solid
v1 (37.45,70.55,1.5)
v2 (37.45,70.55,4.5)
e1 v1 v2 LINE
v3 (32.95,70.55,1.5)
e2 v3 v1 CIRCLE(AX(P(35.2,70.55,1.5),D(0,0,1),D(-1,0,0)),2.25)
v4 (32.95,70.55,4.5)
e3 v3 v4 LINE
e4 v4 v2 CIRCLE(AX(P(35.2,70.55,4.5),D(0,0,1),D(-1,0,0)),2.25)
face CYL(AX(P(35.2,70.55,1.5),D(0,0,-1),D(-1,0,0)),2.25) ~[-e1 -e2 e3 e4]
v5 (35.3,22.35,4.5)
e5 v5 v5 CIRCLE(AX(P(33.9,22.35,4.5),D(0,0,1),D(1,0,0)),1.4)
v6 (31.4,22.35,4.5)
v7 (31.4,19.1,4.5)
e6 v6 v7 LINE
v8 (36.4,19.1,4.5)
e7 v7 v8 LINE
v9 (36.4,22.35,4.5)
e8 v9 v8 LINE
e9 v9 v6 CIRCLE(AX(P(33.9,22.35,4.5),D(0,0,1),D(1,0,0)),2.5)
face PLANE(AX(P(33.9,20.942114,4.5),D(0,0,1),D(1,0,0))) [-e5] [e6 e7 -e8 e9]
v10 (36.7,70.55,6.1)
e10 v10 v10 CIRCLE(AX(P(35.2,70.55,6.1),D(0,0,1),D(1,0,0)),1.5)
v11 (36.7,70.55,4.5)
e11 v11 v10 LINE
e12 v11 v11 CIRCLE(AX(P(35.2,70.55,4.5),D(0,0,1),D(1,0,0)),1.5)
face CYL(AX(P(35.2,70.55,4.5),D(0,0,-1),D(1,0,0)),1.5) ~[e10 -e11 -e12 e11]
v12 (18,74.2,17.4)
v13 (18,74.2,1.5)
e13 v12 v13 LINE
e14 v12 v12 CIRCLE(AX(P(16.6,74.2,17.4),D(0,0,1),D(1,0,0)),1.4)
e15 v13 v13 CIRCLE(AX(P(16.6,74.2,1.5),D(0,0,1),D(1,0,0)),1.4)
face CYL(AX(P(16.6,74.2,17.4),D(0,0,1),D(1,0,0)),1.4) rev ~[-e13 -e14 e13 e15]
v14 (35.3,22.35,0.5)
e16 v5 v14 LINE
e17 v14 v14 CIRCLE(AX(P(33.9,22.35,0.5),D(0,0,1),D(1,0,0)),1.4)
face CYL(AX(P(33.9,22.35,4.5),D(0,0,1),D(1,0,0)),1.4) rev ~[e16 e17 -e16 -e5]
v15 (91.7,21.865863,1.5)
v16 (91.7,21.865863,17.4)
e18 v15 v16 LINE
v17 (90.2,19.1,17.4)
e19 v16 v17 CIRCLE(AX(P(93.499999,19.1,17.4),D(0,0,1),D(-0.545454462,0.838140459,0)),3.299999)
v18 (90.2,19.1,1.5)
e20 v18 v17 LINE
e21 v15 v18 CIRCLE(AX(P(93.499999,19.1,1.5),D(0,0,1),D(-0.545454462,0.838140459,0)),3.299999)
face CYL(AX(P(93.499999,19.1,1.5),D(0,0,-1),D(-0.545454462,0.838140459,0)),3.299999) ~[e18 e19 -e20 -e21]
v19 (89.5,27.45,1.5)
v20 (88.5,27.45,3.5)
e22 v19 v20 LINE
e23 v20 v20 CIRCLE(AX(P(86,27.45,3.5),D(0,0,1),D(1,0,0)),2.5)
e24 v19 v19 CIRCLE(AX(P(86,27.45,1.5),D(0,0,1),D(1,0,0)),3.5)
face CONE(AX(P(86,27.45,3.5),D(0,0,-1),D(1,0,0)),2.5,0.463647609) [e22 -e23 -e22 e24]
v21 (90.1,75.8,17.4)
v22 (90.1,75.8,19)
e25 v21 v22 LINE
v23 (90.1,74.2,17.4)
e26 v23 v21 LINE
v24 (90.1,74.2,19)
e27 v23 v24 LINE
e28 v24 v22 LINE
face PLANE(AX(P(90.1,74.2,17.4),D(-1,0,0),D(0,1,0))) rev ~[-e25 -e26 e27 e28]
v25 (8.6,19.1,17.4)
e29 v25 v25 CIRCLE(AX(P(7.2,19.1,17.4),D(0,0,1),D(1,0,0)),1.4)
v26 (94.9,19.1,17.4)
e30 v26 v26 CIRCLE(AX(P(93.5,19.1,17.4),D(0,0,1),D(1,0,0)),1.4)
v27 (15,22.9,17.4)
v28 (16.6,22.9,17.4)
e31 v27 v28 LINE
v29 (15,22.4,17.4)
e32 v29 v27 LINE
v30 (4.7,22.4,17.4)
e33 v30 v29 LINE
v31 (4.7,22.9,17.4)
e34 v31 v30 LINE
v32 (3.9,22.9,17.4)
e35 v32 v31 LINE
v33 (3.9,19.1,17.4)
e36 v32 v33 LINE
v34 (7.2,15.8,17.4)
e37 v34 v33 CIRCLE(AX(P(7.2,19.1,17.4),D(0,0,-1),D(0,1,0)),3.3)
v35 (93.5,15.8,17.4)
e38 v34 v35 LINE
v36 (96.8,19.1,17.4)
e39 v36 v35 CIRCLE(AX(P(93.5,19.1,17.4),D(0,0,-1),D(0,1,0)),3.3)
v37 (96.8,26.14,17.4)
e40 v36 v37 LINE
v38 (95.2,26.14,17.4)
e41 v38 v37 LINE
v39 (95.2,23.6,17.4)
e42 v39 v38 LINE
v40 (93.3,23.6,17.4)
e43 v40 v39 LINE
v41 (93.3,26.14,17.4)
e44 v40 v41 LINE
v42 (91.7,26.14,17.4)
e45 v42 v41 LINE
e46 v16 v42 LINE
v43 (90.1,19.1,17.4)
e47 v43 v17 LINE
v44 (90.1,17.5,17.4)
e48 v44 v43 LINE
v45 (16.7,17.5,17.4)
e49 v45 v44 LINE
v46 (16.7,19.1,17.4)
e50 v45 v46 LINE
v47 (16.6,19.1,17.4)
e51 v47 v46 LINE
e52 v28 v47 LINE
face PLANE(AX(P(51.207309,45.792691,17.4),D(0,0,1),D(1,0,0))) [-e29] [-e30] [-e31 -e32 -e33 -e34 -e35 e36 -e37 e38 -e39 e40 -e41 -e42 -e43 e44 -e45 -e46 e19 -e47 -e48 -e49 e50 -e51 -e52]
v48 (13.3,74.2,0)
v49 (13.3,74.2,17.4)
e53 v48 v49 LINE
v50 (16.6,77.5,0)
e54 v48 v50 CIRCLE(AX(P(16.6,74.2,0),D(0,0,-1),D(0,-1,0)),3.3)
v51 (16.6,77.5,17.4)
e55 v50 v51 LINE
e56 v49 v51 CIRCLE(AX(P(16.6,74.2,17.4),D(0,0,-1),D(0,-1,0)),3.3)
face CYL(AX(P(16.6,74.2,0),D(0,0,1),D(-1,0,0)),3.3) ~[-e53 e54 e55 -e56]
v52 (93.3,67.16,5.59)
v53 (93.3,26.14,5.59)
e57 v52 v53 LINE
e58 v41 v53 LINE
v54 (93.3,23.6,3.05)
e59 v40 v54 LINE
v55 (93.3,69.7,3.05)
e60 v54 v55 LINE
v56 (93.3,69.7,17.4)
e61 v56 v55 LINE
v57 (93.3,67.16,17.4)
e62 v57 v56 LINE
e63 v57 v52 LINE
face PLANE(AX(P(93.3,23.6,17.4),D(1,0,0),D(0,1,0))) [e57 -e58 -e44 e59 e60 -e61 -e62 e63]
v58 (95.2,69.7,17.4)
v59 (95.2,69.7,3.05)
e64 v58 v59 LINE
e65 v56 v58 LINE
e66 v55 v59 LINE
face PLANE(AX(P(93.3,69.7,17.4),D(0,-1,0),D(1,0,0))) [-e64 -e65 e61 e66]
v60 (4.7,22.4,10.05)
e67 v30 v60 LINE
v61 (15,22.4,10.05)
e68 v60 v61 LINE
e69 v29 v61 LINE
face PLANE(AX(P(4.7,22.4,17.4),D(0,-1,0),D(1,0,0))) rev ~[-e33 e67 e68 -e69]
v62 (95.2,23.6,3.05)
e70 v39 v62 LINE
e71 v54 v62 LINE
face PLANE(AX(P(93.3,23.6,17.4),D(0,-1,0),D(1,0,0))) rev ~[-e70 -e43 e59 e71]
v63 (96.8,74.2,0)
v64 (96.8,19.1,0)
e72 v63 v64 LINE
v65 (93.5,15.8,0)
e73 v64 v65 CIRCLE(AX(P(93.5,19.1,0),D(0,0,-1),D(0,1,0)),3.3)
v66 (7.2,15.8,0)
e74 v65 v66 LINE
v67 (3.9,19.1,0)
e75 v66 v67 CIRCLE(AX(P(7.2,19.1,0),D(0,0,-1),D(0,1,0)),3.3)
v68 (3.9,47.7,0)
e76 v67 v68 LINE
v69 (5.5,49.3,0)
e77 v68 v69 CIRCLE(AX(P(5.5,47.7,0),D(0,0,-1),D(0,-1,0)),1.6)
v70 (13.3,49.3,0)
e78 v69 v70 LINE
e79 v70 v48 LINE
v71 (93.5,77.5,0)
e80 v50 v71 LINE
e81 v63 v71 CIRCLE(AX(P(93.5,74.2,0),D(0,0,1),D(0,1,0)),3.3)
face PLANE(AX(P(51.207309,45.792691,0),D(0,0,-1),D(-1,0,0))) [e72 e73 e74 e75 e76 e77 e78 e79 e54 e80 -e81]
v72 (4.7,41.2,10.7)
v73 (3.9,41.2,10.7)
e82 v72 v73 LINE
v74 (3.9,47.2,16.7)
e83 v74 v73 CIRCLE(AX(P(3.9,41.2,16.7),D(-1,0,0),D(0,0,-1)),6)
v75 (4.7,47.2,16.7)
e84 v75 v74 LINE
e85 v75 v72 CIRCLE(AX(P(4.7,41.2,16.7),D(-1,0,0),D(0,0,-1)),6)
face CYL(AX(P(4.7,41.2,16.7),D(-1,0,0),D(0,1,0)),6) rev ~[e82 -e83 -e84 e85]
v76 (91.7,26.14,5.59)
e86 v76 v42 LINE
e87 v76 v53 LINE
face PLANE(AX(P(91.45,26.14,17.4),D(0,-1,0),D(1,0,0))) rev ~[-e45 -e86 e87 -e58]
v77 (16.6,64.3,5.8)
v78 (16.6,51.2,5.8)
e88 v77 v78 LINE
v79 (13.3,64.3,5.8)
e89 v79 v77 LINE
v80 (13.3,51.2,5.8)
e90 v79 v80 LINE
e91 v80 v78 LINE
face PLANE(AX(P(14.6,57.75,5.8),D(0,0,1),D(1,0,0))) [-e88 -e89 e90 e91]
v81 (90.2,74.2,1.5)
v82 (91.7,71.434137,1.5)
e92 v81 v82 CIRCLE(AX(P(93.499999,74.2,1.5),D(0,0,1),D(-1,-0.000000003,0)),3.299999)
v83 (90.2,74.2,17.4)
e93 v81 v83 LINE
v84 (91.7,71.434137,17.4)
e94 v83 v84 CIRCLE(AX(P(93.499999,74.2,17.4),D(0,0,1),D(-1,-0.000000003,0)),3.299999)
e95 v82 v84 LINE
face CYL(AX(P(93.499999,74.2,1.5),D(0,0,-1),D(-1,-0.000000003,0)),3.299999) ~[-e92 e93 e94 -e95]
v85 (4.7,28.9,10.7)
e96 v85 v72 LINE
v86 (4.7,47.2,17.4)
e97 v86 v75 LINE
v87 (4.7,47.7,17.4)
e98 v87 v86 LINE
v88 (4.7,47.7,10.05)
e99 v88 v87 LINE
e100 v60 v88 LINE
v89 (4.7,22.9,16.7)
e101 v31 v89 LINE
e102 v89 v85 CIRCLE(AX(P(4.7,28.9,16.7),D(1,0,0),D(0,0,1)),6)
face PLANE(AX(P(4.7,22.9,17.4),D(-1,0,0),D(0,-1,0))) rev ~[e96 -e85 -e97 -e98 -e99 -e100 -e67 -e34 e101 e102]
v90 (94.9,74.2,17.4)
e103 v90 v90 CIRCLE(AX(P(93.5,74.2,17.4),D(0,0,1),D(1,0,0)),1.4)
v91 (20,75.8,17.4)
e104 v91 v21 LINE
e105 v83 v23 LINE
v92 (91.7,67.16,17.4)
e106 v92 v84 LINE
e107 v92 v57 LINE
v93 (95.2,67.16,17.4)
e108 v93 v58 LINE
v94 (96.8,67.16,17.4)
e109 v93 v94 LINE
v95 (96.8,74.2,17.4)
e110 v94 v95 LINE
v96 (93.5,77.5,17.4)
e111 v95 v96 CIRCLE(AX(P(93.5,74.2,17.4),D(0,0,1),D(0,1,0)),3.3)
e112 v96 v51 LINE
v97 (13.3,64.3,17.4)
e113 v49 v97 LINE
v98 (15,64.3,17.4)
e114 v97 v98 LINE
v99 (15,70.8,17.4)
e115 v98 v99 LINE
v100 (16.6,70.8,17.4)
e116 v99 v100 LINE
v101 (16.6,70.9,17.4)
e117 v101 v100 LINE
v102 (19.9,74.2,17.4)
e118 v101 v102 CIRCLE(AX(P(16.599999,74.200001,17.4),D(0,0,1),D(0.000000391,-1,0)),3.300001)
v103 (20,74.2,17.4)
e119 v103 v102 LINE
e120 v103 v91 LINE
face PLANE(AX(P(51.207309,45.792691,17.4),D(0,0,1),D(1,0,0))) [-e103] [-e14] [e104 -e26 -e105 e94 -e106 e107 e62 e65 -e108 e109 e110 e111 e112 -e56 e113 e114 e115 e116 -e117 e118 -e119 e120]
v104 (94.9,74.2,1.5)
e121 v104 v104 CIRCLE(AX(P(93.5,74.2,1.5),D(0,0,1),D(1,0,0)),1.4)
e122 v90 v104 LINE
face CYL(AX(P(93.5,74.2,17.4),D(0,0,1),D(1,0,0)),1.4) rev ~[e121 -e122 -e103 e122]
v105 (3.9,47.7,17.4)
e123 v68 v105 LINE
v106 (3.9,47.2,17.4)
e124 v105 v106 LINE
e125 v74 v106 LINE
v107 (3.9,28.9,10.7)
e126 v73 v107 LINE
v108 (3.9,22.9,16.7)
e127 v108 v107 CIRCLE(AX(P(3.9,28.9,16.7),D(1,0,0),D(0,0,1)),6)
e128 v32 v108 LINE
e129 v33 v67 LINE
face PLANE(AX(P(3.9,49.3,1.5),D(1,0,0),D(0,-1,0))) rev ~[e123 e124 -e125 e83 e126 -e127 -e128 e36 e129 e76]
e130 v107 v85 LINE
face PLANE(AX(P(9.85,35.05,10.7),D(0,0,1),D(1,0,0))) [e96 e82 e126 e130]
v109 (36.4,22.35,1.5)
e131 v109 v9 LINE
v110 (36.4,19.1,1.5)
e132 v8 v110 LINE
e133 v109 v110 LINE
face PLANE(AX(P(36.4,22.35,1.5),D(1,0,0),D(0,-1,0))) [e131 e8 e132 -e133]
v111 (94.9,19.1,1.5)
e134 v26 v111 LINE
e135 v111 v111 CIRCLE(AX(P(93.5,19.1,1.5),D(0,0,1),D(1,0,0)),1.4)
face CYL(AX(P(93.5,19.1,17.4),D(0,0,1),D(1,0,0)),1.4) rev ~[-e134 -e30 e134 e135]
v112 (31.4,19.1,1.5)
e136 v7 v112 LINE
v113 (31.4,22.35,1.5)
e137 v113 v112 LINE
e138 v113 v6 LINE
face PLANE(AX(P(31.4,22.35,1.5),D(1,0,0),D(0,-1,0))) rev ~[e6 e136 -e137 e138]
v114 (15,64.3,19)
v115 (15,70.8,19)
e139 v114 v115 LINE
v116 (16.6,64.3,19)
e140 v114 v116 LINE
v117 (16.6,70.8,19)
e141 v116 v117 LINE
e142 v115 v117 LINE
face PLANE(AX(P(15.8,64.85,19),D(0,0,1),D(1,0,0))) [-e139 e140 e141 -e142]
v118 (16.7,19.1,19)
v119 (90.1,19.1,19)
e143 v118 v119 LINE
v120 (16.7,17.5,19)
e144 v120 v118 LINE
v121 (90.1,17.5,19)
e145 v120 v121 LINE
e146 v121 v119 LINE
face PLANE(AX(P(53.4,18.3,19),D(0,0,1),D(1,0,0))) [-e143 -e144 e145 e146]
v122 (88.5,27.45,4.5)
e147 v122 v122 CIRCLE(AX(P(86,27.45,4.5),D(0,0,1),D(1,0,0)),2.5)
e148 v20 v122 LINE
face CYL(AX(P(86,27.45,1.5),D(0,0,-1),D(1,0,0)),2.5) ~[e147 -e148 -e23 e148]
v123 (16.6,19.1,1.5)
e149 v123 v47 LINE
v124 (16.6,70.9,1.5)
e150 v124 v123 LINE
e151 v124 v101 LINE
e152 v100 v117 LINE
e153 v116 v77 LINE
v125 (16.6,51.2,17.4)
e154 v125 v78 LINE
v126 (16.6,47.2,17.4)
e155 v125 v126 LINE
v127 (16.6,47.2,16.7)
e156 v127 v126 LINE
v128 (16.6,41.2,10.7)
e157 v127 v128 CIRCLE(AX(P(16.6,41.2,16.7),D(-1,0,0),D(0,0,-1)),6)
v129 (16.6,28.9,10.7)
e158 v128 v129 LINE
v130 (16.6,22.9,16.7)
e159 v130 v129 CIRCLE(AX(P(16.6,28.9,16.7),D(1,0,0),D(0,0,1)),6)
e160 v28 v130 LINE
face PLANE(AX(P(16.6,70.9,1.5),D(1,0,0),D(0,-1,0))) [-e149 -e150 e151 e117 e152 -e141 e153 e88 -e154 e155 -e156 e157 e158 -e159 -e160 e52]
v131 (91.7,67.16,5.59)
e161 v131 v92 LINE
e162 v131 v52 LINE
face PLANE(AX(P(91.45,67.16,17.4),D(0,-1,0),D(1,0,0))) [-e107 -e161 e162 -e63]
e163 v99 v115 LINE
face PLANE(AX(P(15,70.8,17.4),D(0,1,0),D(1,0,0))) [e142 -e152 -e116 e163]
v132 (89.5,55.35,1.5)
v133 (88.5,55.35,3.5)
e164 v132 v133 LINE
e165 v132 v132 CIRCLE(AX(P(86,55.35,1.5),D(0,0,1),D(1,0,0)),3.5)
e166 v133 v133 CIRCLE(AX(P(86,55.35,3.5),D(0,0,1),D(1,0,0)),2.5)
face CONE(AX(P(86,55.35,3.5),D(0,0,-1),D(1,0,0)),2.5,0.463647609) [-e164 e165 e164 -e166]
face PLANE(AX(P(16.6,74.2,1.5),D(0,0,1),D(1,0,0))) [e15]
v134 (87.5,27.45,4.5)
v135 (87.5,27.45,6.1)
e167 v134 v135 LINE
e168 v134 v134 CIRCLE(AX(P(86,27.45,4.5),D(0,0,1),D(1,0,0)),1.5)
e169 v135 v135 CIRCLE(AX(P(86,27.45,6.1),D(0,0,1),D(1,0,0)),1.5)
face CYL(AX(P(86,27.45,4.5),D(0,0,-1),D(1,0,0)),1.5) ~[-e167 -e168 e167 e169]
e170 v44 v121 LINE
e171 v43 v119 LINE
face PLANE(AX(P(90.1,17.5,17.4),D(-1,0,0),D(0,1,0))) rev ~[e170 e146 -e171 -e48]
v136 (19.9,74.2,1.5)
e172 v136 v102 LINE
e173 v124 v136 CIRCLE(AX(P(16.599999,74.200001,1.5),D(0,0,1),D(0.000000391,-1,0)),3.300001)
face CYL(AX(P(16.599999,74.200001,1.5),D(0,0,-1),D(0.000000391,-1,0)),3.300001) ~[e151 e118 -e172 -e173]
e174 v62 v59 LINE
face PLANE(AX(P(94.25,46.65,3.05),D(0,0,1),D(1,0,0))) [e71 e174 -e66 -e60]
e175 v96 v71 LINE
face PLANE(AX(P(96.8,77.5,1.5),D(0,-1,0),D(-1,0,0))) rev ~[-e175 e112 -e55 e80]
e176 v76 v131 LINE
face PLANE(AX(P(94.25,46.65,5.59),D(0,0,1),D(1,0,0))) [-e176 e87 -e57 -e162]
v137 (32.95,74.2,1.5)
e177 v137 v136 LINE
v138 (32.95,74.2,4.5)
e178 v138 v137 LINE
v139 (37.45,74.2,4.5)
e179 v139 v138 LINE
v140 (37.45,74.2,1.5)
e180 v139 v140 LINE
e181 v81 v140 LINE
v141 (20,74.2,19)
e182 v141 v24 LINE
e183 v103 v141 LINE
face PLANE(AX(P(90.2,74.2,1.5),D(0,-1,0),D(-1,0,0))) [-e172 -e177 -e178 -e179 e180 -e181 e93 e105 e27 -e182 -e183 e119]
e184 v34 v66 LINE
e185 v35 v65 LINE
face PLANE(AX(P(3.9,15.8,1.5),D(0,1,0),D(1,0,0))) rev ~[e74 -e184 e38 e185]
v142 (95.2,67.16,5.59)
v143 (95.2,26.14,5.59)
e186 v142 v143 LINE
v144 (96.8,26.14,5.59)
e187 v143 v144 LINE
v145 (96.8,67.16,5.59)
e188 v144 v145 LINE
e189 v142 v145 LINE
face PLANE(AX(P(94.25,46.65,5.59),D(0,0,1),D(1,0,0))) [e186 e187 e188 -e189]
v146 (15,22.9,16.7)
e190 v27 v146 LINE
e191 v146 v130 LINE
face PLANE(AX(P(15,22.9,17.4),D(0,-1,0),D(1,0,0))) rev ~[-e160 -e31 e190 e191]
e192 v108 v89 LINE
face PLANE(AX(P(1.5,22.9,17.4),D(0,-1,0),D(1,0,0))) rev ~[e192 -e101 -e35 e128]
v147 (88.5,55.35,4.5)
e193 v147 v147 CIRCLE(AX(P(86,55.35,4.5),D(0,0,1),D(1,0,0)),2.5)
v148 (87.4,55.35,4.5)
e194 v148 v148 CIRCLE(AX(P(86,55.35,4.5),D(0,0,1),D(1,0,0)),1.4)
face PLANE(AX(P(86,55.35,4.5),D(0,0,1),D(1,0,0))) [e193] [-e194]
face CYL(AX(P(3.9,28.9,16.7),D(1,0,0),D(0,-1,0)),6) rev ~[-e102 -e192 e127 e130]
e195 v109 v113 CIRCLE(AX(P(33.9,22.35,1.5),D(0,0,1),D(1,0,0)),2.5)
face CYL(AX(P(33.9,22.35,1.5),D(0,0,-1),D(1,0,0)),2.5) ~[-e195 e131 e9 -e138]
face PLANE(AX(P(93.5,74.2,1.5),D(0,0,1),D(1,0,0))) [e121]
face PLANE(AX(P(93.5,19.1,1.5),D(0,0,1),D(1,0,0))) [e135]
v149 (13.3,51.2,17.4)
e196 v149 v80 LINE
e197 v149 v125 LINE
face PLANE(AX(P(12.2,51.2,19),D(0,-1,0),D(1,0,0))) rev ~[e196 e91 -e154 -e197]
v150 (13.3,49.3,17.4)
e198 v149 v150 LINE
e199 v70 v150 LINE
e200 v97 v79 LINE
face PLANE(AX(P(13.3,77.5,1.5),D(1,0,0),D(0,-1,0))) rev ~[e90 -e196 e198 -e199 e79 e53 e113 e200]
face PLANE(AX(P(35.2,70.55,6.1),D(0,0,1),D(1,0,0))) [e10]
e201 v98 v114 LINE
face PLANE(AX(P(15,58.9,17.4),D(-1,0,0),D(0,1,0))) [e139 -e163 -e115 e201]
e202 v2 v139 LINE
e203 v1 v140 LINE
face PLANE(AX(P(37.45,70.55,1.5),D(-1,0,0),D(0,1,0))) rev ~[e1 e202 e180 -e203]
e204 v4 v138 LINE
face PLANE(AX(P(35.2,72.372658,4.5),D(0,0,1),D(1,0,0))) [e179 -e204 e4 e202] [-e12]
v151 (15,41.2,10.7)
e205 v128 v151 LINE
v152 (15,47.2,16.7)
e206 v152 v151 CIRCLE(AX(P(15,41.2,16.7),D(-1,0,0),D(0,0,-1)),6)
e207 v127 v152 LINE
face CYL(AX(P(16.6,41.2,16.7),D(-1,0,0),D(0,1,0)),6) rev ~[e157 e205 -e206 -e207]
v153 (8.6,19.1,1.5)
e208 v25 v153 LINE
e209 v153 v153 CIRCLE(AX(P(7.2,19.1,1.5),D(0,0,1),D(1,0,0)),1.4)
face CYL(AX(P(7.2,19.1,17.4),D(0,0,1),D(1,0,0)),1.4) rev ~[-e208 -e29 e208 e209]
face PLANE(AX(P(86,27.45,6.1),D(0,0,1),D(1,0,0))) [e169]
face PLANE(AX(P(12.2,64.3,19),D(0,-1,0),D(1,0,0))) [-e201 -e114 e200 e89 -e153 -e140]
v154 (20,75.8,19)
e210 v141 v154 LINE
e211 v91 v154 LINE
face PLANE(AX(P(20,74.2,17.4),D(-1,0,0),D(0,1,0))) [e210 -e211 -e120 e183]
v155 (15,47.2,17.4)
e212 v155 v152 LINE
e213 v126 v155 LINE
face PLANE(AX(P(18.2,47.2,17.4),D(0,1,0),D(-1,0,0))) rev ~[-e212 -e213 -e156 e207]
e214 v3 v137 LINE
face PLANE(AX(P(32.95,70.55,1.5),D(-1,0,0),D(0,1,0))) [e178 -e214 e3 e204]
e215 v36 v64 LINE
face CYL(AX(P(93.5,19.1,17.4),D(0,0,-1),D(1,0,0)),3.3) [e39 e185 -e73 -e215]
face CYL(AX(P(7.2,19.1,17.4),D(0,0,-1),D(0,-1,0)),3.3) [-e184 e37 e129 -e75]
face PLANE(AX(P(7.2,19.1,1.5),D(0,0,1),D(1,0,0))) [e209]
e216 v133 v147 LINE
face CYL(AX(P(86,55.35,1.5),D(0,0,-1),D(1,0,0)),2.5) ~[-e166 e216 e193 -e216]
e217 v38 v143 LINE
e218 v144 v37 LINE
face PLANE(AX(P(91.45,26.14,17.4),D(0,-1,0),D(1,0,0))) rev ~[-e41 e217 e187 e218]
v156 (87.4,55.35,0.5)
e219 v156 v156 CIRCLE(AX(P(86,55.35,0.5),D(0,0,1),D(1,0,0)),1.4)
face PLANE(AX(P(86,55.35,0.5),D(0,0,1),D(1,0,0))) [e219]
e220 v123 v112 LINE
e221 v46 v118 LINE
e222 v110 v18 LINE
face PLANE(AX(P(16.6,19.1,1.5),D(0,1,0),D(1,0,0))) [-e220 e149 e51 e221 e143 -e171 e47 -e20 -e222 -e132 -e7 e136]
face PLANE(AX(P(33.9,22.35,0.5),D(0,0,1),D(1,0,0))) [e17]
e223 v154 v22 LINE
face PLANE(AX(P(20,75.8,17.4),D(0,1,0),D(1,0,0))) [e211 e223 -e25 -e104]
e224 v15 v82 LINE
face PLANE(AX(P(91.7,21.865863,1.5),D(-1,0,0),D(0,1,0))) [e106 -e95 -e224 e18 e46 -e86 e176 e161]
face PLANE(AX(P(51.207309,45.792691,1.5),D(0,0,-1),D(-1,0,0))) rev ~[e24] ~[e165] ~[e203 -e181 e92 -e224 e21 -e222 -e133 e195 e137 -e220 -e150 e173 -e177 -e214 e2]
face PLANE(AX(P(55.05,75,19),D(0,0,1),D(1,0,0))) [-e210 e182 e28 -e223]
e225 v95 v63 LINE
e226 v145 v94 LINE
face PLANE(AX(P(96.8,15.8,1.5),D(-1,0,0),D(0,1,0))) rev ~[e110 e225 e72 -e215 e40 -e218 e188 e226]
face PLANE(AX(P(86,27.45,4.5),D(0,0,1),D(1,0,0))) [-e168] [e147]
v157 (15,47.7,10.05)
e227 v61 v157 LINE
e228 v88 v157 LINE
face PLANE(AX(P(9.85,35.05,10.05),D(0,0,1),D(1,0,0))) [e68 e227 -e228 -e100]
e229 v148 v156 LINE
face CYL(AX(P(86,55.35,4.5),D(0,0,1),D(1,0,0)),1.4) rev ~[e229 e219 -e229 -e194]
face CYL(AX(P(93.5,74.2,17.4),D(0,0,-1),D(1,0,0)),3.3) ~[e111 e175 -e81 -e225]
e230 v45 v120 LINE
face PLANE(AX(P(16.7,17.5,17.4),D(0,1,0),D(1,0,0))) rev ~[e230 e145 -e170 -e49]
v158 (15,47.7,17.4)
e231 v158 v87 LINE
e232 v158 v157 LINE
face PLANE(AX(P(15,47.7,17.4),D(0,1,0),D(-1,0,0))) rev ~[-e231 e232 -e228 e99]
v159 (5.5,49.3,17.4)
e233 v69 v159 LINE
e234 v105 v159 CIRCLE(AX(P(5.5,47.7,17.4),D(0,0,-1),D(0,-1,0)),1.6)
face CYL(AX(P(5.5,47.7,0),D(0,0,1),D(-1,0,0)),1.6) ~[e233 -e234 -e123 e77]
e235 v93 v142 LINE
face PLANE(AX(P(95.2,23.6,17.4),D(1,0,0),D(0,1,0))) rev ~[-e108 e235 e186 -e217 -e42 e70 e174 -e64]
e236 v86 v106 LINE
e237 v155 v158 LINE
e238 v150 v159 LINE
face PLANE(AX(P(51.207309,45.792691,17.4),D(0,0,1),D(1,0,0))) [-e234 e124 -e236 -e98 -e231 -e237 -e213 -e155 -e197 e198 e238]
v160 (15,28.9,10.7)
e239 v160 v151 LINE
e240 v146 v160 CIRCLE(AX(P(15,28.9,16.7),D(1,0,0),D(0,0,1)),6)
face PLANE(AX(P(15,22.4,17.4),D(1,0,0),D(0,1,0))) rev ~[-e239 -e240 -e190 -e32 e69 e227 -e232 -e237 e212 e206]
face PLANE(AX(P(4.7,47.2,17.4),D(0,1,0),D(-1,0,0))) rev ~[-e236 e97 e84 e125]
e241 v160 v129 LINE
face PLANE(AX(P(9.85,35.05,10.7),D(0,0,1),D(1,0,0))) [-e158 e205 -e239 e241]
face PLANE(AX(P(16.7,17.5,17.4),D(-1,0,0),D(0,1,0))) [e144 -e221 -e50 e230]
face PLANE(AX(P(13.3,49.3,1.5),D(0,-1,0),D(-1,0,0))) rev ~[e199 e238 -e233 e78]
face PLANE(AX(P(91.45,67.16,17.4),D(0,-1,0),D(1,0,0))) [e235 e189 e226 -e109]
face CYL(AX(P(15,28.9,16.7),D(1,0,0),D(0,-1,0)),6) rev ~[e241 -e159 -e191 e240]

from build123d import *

# Parameters (mm, degrees)
PAD_DEPTH       = 1.5
PAD001_DEPTH    = 15.9
SKETCH003_R     = 2.5
PAD002_DEPTH    = 3
SKETCH004_R     = 1.5
PAD003_DEPTH    = 1.6
SKETCH005_W     = 70.1
SKETCH005_H     = 1.6
SKETCH005_W_2   = 1.6
SKETCH005_H_2   = 11.9
SKETCH005_W_3   = 73.4
PAD004_DEPTH    = 1.6
SKETCH007_W     = 1.9
SKETCH007_H     = 46.1
POCKET001_DEPTH = 14.35
SKETCH008_W     = 5.6
SKETCH008_H     = 41.02
POCKET002_DEPTH = 11.81
SKETCH009_W     = 4.8
SKETCH009_H     = 13.1
POCKET003_DEPTH = 13.2
SKETCH010_R     = 1.4
POCKET004_DEPTH = 15.9
POCKET_DEPTH    = 6.7
SKETCH014_W     = 10.3
SKETCH014_H     = 25.3
POCKET006_DEPTH = 0.65
SKETCH023_R     = 1.4
POCKET014_DEPTH = 4
CHAMFER_SIZE2   = 2
CHAMFER_SIZE    = 1
FILLET_R        = 3.3
FILLET001_R     = 1.6
FILLET002_R     = 6


with BuildPart() as part:
    # Sketch → Pad (new body)
    with BuildSketch(Plane.XY):
        Polygon((13.3, 49.3), (13.3, 77.5), (96.8, 77.5), (96.8, 15.8), (3.9, 15.8), (3.9, 49.3), align=None)
    extrude(amount=PAD_DEPTH)

    # Sketch001 (on Face8 of Pad) → Pad001 (join)
    with BuildSketch(Plane.XY.offset(1.5)):
        Polygon((96.8, 77.5), (13.3, 77.5), (13.3, 49.3), (3.9, 49.3), (3.9, 15.8), (96.8, 15.8), align=None)
        with BuildLine():
            Line((16.6, 70.9), (16.6, 19.1))
            Line((16.6, 19.1), (90.2, 19.1))
            ThreePointArc((91.7, 21.865863), (90.599138, 20.673213), (90.2, 19.1))
            Line((91.7, 21.865863), (91.7, 71.434137))
            ThreePointArc((90.2, 74.2), (90.599138, 72.626787), (91.7, 71.434137))
            Line((90.2, 74.2), (19.9, 74.2))
            ThreePointArc((16.6, 70.9), (18.933452, 71.866548), (19.9, 74.2))
        make_face(mode=Mode.SUBTRACT)
    extrude(amount=PAD001_DEPTH)

    # Sketch003 (on Face9 of Pad001) → Pad002 (join)
    with BuildSketch(Plane.XY.offset(1.5)):
        with Locations((86, 55.35)):
            Circle(SKETCH003_R)
        with Locations((86, 27.45)):
            Circle(SKETCH003_R)
        with BuildLine():
            ThreePointArc((36.4, 22.35), (33.9, 24.85), (31.4, 22.35))
            Line((31.4, 22.35), (31.4, 18))
            Line((36.4, 18), (31.4, 18))
            Line((36.4, 22.35), (36.4, 18))
        make_face()
        with BuildLine():
            ThreePointArc((32.95, 70.55), (35.2, 68.3), (37.45, 70.55))
            Line((37.45, 70.55), (37.45, 75.55))
            Line((32.95, 75.55), (37.45, 75.55))
            Line((32.95, 70.55), (32.95, 75.55))
        make_face()
    extrude(amount=PAD002_DEPTH)

    # Sketch004 (on Face28 of Pad002) → Pad003 (join)
    with BuildSketch(Plane.XY.offset(4.5)):
        with Locations((35.2, 70.55)):
            Circle(SKETCH004_R)
        with Locations((86, 27.45)):
            Circle(SKETCH004_R)
    extrude(amount=PAD003_DEPTH)

    # Sketch005 (on Face1 of Pad003) → Pad004 (join)
    with BuildSketch(Plane.XY.offset(17.4)):
        with Locations((55.05, 75)):
            Rectangle(SKETCH005_W, SKETCH005_H)
        with Locations((15.8, 64.85)):
            Rectangle(SKETCH005_W_2, SKETCH005_H_2)
        with Locations((53.4, 18.3)):
            Rectangle(SKETCH005_W_3, SKETCH005_H)
    extrude(amount=PAD004_DEPTH)

    # Sketch007 (on Face1 of Pad004) → Pocket001 (cut)
    with BuildSketch(Plane.XY.offset(17.4)):
        with Locations((94.25, 46.65)):
            Rectangle(SKETCH007_W, SKETCH007_H)
    extrude(amount=-POCKET001_DEPTH, mode=Mode.SUBTRACT)

    # Sketch008 (on Face1 of Pocket001) → Pocket002 (cut)
    with BuildSketch(Plane.XY.offset(17.4)):
        with Locations((94.25, 46.65)):
            Rectangle(SKETCH008_W, SKETCH008_H)
    extrude(amount=-POCKET002_DEPTH, mode=Mode.SUBTRACT)

    # Sketch009 (on Face41 of Pocket002) → Pocket003 (cut)
    with BuildSketch(Plane.XY.offset(19)):
        with Locations((14.6, 57.75)):
            Rectangle(SKETCH009_W, SKETCH009_H)
    extrude(amount=-POCKET003_DEPTH, mode=Mode.SUBTRACT)

    # Sketch010 (on Face1 of Pocket003) → Pocket004 (cut)
    with BuildSketch(Plane.XY.offset(17.4)):
        with Locations((16.6, 74.2)):
            Circle(SKETCH010_R)
        with Locations((93.5, 74.2)):
            Circle(SKETCH010_R)
        with Locations((93.5, 19.1)):
            Circle(SKETCH010_R)
        with Locations((7.2, 19.1)):
            Circle(SKETCH010_R)
    extrude(amount=-POCKET004_DEPTH, mode=Mode.SUBTRACT)

    # Sketch002 (on Face1 of Pad001) → Pocket (cut)
    with BuildSketch(Plane.XY.offset(17.4)):
        Polygon((4.7, 22.4), (15, 22.4), (15, 22.9), (18.2, 22.9), (18.2, 47.2), (15, 47.2), (15, 47.7), (4.7, 47.7), (4.7, 47.2), (1.5, 47.2), (1.5, 22.9), (4.7, 22.9), align=None)
    extrude(amount=-POCKET_DEPTH, mode=Mode.SUBTRACT)

    # Sketch014 (on Face41 of Pocket) → Pocket006 (cut)
    with BuildSketch(Plane.XY.offset(10.7)):
        with Locations((9.85, 35.05)):
            Rectangle(SKETCH014_W, SKETCH014_H)
    extrude(amount=-POCKET006_DEPTH, mode=Mode.SUBTRACT)

    # Sketch023 (on Face70 of Pocket006) → Pocket014 (cut)
    with BuildSketch(Plane.XY.offset(4.5)):
        with Locations((33.9, 22.35)):
            Circle(SKETCH023_R)
        with Locations((86, 55.35)):
            Circle(SKETCH023_R)
    extrude(amount=-POCKET014_DEPTH, mode=Mode.SUBTRACT)

    # Chamfer
    chamfer_edges = [part.edges().sort_by_distance(p)[0] for p in [
        (83.5, 55.35, 1.5),
        (83.5, 27.45, 1.5),
    ]]
    chamfer_side = part.faces().sort_by_distance((54.108445, 46.65668, 1.5))[0]
    chamfer(chamfer_edges, length=CHAMFER_SIZE, length2=CHAMFER_SIZE2, reference=chamfer_side)

    # Fillet
    fillet_edges = [part.edges().sort_by_distance(p)[0] for p in [
        (13.3, 77.5, 8.7),
        (3.9, 15.8, 8.7),
        (96.8, 77.5, 8.7),
        (96.8, 15.8, 8.7),
    ]]
    fillet(fillet_edges, radius=FILLET_R)

    # Fillet001
    fillet001_edges = [part.edges().sort_by_distance(p)[0] for p in [
        (3.9, 49.3, 8.7),
    ]]
    fillet(fillet001_edges, radius=FILLET001_R)

    # Fillet002
    fillet002_edges = [part.edges().sort_by_distance(p)[0] for p in [
        (15.8, 22.9, 10.7),
        (15.8, 47.2, 10.7),
        (4.3, 47.2, 10.7),
        (4.3, 22.9, 10.7),
    ]]
    fillet(fillet002_edges, radius=FILLET002_R)


solid = part.part
